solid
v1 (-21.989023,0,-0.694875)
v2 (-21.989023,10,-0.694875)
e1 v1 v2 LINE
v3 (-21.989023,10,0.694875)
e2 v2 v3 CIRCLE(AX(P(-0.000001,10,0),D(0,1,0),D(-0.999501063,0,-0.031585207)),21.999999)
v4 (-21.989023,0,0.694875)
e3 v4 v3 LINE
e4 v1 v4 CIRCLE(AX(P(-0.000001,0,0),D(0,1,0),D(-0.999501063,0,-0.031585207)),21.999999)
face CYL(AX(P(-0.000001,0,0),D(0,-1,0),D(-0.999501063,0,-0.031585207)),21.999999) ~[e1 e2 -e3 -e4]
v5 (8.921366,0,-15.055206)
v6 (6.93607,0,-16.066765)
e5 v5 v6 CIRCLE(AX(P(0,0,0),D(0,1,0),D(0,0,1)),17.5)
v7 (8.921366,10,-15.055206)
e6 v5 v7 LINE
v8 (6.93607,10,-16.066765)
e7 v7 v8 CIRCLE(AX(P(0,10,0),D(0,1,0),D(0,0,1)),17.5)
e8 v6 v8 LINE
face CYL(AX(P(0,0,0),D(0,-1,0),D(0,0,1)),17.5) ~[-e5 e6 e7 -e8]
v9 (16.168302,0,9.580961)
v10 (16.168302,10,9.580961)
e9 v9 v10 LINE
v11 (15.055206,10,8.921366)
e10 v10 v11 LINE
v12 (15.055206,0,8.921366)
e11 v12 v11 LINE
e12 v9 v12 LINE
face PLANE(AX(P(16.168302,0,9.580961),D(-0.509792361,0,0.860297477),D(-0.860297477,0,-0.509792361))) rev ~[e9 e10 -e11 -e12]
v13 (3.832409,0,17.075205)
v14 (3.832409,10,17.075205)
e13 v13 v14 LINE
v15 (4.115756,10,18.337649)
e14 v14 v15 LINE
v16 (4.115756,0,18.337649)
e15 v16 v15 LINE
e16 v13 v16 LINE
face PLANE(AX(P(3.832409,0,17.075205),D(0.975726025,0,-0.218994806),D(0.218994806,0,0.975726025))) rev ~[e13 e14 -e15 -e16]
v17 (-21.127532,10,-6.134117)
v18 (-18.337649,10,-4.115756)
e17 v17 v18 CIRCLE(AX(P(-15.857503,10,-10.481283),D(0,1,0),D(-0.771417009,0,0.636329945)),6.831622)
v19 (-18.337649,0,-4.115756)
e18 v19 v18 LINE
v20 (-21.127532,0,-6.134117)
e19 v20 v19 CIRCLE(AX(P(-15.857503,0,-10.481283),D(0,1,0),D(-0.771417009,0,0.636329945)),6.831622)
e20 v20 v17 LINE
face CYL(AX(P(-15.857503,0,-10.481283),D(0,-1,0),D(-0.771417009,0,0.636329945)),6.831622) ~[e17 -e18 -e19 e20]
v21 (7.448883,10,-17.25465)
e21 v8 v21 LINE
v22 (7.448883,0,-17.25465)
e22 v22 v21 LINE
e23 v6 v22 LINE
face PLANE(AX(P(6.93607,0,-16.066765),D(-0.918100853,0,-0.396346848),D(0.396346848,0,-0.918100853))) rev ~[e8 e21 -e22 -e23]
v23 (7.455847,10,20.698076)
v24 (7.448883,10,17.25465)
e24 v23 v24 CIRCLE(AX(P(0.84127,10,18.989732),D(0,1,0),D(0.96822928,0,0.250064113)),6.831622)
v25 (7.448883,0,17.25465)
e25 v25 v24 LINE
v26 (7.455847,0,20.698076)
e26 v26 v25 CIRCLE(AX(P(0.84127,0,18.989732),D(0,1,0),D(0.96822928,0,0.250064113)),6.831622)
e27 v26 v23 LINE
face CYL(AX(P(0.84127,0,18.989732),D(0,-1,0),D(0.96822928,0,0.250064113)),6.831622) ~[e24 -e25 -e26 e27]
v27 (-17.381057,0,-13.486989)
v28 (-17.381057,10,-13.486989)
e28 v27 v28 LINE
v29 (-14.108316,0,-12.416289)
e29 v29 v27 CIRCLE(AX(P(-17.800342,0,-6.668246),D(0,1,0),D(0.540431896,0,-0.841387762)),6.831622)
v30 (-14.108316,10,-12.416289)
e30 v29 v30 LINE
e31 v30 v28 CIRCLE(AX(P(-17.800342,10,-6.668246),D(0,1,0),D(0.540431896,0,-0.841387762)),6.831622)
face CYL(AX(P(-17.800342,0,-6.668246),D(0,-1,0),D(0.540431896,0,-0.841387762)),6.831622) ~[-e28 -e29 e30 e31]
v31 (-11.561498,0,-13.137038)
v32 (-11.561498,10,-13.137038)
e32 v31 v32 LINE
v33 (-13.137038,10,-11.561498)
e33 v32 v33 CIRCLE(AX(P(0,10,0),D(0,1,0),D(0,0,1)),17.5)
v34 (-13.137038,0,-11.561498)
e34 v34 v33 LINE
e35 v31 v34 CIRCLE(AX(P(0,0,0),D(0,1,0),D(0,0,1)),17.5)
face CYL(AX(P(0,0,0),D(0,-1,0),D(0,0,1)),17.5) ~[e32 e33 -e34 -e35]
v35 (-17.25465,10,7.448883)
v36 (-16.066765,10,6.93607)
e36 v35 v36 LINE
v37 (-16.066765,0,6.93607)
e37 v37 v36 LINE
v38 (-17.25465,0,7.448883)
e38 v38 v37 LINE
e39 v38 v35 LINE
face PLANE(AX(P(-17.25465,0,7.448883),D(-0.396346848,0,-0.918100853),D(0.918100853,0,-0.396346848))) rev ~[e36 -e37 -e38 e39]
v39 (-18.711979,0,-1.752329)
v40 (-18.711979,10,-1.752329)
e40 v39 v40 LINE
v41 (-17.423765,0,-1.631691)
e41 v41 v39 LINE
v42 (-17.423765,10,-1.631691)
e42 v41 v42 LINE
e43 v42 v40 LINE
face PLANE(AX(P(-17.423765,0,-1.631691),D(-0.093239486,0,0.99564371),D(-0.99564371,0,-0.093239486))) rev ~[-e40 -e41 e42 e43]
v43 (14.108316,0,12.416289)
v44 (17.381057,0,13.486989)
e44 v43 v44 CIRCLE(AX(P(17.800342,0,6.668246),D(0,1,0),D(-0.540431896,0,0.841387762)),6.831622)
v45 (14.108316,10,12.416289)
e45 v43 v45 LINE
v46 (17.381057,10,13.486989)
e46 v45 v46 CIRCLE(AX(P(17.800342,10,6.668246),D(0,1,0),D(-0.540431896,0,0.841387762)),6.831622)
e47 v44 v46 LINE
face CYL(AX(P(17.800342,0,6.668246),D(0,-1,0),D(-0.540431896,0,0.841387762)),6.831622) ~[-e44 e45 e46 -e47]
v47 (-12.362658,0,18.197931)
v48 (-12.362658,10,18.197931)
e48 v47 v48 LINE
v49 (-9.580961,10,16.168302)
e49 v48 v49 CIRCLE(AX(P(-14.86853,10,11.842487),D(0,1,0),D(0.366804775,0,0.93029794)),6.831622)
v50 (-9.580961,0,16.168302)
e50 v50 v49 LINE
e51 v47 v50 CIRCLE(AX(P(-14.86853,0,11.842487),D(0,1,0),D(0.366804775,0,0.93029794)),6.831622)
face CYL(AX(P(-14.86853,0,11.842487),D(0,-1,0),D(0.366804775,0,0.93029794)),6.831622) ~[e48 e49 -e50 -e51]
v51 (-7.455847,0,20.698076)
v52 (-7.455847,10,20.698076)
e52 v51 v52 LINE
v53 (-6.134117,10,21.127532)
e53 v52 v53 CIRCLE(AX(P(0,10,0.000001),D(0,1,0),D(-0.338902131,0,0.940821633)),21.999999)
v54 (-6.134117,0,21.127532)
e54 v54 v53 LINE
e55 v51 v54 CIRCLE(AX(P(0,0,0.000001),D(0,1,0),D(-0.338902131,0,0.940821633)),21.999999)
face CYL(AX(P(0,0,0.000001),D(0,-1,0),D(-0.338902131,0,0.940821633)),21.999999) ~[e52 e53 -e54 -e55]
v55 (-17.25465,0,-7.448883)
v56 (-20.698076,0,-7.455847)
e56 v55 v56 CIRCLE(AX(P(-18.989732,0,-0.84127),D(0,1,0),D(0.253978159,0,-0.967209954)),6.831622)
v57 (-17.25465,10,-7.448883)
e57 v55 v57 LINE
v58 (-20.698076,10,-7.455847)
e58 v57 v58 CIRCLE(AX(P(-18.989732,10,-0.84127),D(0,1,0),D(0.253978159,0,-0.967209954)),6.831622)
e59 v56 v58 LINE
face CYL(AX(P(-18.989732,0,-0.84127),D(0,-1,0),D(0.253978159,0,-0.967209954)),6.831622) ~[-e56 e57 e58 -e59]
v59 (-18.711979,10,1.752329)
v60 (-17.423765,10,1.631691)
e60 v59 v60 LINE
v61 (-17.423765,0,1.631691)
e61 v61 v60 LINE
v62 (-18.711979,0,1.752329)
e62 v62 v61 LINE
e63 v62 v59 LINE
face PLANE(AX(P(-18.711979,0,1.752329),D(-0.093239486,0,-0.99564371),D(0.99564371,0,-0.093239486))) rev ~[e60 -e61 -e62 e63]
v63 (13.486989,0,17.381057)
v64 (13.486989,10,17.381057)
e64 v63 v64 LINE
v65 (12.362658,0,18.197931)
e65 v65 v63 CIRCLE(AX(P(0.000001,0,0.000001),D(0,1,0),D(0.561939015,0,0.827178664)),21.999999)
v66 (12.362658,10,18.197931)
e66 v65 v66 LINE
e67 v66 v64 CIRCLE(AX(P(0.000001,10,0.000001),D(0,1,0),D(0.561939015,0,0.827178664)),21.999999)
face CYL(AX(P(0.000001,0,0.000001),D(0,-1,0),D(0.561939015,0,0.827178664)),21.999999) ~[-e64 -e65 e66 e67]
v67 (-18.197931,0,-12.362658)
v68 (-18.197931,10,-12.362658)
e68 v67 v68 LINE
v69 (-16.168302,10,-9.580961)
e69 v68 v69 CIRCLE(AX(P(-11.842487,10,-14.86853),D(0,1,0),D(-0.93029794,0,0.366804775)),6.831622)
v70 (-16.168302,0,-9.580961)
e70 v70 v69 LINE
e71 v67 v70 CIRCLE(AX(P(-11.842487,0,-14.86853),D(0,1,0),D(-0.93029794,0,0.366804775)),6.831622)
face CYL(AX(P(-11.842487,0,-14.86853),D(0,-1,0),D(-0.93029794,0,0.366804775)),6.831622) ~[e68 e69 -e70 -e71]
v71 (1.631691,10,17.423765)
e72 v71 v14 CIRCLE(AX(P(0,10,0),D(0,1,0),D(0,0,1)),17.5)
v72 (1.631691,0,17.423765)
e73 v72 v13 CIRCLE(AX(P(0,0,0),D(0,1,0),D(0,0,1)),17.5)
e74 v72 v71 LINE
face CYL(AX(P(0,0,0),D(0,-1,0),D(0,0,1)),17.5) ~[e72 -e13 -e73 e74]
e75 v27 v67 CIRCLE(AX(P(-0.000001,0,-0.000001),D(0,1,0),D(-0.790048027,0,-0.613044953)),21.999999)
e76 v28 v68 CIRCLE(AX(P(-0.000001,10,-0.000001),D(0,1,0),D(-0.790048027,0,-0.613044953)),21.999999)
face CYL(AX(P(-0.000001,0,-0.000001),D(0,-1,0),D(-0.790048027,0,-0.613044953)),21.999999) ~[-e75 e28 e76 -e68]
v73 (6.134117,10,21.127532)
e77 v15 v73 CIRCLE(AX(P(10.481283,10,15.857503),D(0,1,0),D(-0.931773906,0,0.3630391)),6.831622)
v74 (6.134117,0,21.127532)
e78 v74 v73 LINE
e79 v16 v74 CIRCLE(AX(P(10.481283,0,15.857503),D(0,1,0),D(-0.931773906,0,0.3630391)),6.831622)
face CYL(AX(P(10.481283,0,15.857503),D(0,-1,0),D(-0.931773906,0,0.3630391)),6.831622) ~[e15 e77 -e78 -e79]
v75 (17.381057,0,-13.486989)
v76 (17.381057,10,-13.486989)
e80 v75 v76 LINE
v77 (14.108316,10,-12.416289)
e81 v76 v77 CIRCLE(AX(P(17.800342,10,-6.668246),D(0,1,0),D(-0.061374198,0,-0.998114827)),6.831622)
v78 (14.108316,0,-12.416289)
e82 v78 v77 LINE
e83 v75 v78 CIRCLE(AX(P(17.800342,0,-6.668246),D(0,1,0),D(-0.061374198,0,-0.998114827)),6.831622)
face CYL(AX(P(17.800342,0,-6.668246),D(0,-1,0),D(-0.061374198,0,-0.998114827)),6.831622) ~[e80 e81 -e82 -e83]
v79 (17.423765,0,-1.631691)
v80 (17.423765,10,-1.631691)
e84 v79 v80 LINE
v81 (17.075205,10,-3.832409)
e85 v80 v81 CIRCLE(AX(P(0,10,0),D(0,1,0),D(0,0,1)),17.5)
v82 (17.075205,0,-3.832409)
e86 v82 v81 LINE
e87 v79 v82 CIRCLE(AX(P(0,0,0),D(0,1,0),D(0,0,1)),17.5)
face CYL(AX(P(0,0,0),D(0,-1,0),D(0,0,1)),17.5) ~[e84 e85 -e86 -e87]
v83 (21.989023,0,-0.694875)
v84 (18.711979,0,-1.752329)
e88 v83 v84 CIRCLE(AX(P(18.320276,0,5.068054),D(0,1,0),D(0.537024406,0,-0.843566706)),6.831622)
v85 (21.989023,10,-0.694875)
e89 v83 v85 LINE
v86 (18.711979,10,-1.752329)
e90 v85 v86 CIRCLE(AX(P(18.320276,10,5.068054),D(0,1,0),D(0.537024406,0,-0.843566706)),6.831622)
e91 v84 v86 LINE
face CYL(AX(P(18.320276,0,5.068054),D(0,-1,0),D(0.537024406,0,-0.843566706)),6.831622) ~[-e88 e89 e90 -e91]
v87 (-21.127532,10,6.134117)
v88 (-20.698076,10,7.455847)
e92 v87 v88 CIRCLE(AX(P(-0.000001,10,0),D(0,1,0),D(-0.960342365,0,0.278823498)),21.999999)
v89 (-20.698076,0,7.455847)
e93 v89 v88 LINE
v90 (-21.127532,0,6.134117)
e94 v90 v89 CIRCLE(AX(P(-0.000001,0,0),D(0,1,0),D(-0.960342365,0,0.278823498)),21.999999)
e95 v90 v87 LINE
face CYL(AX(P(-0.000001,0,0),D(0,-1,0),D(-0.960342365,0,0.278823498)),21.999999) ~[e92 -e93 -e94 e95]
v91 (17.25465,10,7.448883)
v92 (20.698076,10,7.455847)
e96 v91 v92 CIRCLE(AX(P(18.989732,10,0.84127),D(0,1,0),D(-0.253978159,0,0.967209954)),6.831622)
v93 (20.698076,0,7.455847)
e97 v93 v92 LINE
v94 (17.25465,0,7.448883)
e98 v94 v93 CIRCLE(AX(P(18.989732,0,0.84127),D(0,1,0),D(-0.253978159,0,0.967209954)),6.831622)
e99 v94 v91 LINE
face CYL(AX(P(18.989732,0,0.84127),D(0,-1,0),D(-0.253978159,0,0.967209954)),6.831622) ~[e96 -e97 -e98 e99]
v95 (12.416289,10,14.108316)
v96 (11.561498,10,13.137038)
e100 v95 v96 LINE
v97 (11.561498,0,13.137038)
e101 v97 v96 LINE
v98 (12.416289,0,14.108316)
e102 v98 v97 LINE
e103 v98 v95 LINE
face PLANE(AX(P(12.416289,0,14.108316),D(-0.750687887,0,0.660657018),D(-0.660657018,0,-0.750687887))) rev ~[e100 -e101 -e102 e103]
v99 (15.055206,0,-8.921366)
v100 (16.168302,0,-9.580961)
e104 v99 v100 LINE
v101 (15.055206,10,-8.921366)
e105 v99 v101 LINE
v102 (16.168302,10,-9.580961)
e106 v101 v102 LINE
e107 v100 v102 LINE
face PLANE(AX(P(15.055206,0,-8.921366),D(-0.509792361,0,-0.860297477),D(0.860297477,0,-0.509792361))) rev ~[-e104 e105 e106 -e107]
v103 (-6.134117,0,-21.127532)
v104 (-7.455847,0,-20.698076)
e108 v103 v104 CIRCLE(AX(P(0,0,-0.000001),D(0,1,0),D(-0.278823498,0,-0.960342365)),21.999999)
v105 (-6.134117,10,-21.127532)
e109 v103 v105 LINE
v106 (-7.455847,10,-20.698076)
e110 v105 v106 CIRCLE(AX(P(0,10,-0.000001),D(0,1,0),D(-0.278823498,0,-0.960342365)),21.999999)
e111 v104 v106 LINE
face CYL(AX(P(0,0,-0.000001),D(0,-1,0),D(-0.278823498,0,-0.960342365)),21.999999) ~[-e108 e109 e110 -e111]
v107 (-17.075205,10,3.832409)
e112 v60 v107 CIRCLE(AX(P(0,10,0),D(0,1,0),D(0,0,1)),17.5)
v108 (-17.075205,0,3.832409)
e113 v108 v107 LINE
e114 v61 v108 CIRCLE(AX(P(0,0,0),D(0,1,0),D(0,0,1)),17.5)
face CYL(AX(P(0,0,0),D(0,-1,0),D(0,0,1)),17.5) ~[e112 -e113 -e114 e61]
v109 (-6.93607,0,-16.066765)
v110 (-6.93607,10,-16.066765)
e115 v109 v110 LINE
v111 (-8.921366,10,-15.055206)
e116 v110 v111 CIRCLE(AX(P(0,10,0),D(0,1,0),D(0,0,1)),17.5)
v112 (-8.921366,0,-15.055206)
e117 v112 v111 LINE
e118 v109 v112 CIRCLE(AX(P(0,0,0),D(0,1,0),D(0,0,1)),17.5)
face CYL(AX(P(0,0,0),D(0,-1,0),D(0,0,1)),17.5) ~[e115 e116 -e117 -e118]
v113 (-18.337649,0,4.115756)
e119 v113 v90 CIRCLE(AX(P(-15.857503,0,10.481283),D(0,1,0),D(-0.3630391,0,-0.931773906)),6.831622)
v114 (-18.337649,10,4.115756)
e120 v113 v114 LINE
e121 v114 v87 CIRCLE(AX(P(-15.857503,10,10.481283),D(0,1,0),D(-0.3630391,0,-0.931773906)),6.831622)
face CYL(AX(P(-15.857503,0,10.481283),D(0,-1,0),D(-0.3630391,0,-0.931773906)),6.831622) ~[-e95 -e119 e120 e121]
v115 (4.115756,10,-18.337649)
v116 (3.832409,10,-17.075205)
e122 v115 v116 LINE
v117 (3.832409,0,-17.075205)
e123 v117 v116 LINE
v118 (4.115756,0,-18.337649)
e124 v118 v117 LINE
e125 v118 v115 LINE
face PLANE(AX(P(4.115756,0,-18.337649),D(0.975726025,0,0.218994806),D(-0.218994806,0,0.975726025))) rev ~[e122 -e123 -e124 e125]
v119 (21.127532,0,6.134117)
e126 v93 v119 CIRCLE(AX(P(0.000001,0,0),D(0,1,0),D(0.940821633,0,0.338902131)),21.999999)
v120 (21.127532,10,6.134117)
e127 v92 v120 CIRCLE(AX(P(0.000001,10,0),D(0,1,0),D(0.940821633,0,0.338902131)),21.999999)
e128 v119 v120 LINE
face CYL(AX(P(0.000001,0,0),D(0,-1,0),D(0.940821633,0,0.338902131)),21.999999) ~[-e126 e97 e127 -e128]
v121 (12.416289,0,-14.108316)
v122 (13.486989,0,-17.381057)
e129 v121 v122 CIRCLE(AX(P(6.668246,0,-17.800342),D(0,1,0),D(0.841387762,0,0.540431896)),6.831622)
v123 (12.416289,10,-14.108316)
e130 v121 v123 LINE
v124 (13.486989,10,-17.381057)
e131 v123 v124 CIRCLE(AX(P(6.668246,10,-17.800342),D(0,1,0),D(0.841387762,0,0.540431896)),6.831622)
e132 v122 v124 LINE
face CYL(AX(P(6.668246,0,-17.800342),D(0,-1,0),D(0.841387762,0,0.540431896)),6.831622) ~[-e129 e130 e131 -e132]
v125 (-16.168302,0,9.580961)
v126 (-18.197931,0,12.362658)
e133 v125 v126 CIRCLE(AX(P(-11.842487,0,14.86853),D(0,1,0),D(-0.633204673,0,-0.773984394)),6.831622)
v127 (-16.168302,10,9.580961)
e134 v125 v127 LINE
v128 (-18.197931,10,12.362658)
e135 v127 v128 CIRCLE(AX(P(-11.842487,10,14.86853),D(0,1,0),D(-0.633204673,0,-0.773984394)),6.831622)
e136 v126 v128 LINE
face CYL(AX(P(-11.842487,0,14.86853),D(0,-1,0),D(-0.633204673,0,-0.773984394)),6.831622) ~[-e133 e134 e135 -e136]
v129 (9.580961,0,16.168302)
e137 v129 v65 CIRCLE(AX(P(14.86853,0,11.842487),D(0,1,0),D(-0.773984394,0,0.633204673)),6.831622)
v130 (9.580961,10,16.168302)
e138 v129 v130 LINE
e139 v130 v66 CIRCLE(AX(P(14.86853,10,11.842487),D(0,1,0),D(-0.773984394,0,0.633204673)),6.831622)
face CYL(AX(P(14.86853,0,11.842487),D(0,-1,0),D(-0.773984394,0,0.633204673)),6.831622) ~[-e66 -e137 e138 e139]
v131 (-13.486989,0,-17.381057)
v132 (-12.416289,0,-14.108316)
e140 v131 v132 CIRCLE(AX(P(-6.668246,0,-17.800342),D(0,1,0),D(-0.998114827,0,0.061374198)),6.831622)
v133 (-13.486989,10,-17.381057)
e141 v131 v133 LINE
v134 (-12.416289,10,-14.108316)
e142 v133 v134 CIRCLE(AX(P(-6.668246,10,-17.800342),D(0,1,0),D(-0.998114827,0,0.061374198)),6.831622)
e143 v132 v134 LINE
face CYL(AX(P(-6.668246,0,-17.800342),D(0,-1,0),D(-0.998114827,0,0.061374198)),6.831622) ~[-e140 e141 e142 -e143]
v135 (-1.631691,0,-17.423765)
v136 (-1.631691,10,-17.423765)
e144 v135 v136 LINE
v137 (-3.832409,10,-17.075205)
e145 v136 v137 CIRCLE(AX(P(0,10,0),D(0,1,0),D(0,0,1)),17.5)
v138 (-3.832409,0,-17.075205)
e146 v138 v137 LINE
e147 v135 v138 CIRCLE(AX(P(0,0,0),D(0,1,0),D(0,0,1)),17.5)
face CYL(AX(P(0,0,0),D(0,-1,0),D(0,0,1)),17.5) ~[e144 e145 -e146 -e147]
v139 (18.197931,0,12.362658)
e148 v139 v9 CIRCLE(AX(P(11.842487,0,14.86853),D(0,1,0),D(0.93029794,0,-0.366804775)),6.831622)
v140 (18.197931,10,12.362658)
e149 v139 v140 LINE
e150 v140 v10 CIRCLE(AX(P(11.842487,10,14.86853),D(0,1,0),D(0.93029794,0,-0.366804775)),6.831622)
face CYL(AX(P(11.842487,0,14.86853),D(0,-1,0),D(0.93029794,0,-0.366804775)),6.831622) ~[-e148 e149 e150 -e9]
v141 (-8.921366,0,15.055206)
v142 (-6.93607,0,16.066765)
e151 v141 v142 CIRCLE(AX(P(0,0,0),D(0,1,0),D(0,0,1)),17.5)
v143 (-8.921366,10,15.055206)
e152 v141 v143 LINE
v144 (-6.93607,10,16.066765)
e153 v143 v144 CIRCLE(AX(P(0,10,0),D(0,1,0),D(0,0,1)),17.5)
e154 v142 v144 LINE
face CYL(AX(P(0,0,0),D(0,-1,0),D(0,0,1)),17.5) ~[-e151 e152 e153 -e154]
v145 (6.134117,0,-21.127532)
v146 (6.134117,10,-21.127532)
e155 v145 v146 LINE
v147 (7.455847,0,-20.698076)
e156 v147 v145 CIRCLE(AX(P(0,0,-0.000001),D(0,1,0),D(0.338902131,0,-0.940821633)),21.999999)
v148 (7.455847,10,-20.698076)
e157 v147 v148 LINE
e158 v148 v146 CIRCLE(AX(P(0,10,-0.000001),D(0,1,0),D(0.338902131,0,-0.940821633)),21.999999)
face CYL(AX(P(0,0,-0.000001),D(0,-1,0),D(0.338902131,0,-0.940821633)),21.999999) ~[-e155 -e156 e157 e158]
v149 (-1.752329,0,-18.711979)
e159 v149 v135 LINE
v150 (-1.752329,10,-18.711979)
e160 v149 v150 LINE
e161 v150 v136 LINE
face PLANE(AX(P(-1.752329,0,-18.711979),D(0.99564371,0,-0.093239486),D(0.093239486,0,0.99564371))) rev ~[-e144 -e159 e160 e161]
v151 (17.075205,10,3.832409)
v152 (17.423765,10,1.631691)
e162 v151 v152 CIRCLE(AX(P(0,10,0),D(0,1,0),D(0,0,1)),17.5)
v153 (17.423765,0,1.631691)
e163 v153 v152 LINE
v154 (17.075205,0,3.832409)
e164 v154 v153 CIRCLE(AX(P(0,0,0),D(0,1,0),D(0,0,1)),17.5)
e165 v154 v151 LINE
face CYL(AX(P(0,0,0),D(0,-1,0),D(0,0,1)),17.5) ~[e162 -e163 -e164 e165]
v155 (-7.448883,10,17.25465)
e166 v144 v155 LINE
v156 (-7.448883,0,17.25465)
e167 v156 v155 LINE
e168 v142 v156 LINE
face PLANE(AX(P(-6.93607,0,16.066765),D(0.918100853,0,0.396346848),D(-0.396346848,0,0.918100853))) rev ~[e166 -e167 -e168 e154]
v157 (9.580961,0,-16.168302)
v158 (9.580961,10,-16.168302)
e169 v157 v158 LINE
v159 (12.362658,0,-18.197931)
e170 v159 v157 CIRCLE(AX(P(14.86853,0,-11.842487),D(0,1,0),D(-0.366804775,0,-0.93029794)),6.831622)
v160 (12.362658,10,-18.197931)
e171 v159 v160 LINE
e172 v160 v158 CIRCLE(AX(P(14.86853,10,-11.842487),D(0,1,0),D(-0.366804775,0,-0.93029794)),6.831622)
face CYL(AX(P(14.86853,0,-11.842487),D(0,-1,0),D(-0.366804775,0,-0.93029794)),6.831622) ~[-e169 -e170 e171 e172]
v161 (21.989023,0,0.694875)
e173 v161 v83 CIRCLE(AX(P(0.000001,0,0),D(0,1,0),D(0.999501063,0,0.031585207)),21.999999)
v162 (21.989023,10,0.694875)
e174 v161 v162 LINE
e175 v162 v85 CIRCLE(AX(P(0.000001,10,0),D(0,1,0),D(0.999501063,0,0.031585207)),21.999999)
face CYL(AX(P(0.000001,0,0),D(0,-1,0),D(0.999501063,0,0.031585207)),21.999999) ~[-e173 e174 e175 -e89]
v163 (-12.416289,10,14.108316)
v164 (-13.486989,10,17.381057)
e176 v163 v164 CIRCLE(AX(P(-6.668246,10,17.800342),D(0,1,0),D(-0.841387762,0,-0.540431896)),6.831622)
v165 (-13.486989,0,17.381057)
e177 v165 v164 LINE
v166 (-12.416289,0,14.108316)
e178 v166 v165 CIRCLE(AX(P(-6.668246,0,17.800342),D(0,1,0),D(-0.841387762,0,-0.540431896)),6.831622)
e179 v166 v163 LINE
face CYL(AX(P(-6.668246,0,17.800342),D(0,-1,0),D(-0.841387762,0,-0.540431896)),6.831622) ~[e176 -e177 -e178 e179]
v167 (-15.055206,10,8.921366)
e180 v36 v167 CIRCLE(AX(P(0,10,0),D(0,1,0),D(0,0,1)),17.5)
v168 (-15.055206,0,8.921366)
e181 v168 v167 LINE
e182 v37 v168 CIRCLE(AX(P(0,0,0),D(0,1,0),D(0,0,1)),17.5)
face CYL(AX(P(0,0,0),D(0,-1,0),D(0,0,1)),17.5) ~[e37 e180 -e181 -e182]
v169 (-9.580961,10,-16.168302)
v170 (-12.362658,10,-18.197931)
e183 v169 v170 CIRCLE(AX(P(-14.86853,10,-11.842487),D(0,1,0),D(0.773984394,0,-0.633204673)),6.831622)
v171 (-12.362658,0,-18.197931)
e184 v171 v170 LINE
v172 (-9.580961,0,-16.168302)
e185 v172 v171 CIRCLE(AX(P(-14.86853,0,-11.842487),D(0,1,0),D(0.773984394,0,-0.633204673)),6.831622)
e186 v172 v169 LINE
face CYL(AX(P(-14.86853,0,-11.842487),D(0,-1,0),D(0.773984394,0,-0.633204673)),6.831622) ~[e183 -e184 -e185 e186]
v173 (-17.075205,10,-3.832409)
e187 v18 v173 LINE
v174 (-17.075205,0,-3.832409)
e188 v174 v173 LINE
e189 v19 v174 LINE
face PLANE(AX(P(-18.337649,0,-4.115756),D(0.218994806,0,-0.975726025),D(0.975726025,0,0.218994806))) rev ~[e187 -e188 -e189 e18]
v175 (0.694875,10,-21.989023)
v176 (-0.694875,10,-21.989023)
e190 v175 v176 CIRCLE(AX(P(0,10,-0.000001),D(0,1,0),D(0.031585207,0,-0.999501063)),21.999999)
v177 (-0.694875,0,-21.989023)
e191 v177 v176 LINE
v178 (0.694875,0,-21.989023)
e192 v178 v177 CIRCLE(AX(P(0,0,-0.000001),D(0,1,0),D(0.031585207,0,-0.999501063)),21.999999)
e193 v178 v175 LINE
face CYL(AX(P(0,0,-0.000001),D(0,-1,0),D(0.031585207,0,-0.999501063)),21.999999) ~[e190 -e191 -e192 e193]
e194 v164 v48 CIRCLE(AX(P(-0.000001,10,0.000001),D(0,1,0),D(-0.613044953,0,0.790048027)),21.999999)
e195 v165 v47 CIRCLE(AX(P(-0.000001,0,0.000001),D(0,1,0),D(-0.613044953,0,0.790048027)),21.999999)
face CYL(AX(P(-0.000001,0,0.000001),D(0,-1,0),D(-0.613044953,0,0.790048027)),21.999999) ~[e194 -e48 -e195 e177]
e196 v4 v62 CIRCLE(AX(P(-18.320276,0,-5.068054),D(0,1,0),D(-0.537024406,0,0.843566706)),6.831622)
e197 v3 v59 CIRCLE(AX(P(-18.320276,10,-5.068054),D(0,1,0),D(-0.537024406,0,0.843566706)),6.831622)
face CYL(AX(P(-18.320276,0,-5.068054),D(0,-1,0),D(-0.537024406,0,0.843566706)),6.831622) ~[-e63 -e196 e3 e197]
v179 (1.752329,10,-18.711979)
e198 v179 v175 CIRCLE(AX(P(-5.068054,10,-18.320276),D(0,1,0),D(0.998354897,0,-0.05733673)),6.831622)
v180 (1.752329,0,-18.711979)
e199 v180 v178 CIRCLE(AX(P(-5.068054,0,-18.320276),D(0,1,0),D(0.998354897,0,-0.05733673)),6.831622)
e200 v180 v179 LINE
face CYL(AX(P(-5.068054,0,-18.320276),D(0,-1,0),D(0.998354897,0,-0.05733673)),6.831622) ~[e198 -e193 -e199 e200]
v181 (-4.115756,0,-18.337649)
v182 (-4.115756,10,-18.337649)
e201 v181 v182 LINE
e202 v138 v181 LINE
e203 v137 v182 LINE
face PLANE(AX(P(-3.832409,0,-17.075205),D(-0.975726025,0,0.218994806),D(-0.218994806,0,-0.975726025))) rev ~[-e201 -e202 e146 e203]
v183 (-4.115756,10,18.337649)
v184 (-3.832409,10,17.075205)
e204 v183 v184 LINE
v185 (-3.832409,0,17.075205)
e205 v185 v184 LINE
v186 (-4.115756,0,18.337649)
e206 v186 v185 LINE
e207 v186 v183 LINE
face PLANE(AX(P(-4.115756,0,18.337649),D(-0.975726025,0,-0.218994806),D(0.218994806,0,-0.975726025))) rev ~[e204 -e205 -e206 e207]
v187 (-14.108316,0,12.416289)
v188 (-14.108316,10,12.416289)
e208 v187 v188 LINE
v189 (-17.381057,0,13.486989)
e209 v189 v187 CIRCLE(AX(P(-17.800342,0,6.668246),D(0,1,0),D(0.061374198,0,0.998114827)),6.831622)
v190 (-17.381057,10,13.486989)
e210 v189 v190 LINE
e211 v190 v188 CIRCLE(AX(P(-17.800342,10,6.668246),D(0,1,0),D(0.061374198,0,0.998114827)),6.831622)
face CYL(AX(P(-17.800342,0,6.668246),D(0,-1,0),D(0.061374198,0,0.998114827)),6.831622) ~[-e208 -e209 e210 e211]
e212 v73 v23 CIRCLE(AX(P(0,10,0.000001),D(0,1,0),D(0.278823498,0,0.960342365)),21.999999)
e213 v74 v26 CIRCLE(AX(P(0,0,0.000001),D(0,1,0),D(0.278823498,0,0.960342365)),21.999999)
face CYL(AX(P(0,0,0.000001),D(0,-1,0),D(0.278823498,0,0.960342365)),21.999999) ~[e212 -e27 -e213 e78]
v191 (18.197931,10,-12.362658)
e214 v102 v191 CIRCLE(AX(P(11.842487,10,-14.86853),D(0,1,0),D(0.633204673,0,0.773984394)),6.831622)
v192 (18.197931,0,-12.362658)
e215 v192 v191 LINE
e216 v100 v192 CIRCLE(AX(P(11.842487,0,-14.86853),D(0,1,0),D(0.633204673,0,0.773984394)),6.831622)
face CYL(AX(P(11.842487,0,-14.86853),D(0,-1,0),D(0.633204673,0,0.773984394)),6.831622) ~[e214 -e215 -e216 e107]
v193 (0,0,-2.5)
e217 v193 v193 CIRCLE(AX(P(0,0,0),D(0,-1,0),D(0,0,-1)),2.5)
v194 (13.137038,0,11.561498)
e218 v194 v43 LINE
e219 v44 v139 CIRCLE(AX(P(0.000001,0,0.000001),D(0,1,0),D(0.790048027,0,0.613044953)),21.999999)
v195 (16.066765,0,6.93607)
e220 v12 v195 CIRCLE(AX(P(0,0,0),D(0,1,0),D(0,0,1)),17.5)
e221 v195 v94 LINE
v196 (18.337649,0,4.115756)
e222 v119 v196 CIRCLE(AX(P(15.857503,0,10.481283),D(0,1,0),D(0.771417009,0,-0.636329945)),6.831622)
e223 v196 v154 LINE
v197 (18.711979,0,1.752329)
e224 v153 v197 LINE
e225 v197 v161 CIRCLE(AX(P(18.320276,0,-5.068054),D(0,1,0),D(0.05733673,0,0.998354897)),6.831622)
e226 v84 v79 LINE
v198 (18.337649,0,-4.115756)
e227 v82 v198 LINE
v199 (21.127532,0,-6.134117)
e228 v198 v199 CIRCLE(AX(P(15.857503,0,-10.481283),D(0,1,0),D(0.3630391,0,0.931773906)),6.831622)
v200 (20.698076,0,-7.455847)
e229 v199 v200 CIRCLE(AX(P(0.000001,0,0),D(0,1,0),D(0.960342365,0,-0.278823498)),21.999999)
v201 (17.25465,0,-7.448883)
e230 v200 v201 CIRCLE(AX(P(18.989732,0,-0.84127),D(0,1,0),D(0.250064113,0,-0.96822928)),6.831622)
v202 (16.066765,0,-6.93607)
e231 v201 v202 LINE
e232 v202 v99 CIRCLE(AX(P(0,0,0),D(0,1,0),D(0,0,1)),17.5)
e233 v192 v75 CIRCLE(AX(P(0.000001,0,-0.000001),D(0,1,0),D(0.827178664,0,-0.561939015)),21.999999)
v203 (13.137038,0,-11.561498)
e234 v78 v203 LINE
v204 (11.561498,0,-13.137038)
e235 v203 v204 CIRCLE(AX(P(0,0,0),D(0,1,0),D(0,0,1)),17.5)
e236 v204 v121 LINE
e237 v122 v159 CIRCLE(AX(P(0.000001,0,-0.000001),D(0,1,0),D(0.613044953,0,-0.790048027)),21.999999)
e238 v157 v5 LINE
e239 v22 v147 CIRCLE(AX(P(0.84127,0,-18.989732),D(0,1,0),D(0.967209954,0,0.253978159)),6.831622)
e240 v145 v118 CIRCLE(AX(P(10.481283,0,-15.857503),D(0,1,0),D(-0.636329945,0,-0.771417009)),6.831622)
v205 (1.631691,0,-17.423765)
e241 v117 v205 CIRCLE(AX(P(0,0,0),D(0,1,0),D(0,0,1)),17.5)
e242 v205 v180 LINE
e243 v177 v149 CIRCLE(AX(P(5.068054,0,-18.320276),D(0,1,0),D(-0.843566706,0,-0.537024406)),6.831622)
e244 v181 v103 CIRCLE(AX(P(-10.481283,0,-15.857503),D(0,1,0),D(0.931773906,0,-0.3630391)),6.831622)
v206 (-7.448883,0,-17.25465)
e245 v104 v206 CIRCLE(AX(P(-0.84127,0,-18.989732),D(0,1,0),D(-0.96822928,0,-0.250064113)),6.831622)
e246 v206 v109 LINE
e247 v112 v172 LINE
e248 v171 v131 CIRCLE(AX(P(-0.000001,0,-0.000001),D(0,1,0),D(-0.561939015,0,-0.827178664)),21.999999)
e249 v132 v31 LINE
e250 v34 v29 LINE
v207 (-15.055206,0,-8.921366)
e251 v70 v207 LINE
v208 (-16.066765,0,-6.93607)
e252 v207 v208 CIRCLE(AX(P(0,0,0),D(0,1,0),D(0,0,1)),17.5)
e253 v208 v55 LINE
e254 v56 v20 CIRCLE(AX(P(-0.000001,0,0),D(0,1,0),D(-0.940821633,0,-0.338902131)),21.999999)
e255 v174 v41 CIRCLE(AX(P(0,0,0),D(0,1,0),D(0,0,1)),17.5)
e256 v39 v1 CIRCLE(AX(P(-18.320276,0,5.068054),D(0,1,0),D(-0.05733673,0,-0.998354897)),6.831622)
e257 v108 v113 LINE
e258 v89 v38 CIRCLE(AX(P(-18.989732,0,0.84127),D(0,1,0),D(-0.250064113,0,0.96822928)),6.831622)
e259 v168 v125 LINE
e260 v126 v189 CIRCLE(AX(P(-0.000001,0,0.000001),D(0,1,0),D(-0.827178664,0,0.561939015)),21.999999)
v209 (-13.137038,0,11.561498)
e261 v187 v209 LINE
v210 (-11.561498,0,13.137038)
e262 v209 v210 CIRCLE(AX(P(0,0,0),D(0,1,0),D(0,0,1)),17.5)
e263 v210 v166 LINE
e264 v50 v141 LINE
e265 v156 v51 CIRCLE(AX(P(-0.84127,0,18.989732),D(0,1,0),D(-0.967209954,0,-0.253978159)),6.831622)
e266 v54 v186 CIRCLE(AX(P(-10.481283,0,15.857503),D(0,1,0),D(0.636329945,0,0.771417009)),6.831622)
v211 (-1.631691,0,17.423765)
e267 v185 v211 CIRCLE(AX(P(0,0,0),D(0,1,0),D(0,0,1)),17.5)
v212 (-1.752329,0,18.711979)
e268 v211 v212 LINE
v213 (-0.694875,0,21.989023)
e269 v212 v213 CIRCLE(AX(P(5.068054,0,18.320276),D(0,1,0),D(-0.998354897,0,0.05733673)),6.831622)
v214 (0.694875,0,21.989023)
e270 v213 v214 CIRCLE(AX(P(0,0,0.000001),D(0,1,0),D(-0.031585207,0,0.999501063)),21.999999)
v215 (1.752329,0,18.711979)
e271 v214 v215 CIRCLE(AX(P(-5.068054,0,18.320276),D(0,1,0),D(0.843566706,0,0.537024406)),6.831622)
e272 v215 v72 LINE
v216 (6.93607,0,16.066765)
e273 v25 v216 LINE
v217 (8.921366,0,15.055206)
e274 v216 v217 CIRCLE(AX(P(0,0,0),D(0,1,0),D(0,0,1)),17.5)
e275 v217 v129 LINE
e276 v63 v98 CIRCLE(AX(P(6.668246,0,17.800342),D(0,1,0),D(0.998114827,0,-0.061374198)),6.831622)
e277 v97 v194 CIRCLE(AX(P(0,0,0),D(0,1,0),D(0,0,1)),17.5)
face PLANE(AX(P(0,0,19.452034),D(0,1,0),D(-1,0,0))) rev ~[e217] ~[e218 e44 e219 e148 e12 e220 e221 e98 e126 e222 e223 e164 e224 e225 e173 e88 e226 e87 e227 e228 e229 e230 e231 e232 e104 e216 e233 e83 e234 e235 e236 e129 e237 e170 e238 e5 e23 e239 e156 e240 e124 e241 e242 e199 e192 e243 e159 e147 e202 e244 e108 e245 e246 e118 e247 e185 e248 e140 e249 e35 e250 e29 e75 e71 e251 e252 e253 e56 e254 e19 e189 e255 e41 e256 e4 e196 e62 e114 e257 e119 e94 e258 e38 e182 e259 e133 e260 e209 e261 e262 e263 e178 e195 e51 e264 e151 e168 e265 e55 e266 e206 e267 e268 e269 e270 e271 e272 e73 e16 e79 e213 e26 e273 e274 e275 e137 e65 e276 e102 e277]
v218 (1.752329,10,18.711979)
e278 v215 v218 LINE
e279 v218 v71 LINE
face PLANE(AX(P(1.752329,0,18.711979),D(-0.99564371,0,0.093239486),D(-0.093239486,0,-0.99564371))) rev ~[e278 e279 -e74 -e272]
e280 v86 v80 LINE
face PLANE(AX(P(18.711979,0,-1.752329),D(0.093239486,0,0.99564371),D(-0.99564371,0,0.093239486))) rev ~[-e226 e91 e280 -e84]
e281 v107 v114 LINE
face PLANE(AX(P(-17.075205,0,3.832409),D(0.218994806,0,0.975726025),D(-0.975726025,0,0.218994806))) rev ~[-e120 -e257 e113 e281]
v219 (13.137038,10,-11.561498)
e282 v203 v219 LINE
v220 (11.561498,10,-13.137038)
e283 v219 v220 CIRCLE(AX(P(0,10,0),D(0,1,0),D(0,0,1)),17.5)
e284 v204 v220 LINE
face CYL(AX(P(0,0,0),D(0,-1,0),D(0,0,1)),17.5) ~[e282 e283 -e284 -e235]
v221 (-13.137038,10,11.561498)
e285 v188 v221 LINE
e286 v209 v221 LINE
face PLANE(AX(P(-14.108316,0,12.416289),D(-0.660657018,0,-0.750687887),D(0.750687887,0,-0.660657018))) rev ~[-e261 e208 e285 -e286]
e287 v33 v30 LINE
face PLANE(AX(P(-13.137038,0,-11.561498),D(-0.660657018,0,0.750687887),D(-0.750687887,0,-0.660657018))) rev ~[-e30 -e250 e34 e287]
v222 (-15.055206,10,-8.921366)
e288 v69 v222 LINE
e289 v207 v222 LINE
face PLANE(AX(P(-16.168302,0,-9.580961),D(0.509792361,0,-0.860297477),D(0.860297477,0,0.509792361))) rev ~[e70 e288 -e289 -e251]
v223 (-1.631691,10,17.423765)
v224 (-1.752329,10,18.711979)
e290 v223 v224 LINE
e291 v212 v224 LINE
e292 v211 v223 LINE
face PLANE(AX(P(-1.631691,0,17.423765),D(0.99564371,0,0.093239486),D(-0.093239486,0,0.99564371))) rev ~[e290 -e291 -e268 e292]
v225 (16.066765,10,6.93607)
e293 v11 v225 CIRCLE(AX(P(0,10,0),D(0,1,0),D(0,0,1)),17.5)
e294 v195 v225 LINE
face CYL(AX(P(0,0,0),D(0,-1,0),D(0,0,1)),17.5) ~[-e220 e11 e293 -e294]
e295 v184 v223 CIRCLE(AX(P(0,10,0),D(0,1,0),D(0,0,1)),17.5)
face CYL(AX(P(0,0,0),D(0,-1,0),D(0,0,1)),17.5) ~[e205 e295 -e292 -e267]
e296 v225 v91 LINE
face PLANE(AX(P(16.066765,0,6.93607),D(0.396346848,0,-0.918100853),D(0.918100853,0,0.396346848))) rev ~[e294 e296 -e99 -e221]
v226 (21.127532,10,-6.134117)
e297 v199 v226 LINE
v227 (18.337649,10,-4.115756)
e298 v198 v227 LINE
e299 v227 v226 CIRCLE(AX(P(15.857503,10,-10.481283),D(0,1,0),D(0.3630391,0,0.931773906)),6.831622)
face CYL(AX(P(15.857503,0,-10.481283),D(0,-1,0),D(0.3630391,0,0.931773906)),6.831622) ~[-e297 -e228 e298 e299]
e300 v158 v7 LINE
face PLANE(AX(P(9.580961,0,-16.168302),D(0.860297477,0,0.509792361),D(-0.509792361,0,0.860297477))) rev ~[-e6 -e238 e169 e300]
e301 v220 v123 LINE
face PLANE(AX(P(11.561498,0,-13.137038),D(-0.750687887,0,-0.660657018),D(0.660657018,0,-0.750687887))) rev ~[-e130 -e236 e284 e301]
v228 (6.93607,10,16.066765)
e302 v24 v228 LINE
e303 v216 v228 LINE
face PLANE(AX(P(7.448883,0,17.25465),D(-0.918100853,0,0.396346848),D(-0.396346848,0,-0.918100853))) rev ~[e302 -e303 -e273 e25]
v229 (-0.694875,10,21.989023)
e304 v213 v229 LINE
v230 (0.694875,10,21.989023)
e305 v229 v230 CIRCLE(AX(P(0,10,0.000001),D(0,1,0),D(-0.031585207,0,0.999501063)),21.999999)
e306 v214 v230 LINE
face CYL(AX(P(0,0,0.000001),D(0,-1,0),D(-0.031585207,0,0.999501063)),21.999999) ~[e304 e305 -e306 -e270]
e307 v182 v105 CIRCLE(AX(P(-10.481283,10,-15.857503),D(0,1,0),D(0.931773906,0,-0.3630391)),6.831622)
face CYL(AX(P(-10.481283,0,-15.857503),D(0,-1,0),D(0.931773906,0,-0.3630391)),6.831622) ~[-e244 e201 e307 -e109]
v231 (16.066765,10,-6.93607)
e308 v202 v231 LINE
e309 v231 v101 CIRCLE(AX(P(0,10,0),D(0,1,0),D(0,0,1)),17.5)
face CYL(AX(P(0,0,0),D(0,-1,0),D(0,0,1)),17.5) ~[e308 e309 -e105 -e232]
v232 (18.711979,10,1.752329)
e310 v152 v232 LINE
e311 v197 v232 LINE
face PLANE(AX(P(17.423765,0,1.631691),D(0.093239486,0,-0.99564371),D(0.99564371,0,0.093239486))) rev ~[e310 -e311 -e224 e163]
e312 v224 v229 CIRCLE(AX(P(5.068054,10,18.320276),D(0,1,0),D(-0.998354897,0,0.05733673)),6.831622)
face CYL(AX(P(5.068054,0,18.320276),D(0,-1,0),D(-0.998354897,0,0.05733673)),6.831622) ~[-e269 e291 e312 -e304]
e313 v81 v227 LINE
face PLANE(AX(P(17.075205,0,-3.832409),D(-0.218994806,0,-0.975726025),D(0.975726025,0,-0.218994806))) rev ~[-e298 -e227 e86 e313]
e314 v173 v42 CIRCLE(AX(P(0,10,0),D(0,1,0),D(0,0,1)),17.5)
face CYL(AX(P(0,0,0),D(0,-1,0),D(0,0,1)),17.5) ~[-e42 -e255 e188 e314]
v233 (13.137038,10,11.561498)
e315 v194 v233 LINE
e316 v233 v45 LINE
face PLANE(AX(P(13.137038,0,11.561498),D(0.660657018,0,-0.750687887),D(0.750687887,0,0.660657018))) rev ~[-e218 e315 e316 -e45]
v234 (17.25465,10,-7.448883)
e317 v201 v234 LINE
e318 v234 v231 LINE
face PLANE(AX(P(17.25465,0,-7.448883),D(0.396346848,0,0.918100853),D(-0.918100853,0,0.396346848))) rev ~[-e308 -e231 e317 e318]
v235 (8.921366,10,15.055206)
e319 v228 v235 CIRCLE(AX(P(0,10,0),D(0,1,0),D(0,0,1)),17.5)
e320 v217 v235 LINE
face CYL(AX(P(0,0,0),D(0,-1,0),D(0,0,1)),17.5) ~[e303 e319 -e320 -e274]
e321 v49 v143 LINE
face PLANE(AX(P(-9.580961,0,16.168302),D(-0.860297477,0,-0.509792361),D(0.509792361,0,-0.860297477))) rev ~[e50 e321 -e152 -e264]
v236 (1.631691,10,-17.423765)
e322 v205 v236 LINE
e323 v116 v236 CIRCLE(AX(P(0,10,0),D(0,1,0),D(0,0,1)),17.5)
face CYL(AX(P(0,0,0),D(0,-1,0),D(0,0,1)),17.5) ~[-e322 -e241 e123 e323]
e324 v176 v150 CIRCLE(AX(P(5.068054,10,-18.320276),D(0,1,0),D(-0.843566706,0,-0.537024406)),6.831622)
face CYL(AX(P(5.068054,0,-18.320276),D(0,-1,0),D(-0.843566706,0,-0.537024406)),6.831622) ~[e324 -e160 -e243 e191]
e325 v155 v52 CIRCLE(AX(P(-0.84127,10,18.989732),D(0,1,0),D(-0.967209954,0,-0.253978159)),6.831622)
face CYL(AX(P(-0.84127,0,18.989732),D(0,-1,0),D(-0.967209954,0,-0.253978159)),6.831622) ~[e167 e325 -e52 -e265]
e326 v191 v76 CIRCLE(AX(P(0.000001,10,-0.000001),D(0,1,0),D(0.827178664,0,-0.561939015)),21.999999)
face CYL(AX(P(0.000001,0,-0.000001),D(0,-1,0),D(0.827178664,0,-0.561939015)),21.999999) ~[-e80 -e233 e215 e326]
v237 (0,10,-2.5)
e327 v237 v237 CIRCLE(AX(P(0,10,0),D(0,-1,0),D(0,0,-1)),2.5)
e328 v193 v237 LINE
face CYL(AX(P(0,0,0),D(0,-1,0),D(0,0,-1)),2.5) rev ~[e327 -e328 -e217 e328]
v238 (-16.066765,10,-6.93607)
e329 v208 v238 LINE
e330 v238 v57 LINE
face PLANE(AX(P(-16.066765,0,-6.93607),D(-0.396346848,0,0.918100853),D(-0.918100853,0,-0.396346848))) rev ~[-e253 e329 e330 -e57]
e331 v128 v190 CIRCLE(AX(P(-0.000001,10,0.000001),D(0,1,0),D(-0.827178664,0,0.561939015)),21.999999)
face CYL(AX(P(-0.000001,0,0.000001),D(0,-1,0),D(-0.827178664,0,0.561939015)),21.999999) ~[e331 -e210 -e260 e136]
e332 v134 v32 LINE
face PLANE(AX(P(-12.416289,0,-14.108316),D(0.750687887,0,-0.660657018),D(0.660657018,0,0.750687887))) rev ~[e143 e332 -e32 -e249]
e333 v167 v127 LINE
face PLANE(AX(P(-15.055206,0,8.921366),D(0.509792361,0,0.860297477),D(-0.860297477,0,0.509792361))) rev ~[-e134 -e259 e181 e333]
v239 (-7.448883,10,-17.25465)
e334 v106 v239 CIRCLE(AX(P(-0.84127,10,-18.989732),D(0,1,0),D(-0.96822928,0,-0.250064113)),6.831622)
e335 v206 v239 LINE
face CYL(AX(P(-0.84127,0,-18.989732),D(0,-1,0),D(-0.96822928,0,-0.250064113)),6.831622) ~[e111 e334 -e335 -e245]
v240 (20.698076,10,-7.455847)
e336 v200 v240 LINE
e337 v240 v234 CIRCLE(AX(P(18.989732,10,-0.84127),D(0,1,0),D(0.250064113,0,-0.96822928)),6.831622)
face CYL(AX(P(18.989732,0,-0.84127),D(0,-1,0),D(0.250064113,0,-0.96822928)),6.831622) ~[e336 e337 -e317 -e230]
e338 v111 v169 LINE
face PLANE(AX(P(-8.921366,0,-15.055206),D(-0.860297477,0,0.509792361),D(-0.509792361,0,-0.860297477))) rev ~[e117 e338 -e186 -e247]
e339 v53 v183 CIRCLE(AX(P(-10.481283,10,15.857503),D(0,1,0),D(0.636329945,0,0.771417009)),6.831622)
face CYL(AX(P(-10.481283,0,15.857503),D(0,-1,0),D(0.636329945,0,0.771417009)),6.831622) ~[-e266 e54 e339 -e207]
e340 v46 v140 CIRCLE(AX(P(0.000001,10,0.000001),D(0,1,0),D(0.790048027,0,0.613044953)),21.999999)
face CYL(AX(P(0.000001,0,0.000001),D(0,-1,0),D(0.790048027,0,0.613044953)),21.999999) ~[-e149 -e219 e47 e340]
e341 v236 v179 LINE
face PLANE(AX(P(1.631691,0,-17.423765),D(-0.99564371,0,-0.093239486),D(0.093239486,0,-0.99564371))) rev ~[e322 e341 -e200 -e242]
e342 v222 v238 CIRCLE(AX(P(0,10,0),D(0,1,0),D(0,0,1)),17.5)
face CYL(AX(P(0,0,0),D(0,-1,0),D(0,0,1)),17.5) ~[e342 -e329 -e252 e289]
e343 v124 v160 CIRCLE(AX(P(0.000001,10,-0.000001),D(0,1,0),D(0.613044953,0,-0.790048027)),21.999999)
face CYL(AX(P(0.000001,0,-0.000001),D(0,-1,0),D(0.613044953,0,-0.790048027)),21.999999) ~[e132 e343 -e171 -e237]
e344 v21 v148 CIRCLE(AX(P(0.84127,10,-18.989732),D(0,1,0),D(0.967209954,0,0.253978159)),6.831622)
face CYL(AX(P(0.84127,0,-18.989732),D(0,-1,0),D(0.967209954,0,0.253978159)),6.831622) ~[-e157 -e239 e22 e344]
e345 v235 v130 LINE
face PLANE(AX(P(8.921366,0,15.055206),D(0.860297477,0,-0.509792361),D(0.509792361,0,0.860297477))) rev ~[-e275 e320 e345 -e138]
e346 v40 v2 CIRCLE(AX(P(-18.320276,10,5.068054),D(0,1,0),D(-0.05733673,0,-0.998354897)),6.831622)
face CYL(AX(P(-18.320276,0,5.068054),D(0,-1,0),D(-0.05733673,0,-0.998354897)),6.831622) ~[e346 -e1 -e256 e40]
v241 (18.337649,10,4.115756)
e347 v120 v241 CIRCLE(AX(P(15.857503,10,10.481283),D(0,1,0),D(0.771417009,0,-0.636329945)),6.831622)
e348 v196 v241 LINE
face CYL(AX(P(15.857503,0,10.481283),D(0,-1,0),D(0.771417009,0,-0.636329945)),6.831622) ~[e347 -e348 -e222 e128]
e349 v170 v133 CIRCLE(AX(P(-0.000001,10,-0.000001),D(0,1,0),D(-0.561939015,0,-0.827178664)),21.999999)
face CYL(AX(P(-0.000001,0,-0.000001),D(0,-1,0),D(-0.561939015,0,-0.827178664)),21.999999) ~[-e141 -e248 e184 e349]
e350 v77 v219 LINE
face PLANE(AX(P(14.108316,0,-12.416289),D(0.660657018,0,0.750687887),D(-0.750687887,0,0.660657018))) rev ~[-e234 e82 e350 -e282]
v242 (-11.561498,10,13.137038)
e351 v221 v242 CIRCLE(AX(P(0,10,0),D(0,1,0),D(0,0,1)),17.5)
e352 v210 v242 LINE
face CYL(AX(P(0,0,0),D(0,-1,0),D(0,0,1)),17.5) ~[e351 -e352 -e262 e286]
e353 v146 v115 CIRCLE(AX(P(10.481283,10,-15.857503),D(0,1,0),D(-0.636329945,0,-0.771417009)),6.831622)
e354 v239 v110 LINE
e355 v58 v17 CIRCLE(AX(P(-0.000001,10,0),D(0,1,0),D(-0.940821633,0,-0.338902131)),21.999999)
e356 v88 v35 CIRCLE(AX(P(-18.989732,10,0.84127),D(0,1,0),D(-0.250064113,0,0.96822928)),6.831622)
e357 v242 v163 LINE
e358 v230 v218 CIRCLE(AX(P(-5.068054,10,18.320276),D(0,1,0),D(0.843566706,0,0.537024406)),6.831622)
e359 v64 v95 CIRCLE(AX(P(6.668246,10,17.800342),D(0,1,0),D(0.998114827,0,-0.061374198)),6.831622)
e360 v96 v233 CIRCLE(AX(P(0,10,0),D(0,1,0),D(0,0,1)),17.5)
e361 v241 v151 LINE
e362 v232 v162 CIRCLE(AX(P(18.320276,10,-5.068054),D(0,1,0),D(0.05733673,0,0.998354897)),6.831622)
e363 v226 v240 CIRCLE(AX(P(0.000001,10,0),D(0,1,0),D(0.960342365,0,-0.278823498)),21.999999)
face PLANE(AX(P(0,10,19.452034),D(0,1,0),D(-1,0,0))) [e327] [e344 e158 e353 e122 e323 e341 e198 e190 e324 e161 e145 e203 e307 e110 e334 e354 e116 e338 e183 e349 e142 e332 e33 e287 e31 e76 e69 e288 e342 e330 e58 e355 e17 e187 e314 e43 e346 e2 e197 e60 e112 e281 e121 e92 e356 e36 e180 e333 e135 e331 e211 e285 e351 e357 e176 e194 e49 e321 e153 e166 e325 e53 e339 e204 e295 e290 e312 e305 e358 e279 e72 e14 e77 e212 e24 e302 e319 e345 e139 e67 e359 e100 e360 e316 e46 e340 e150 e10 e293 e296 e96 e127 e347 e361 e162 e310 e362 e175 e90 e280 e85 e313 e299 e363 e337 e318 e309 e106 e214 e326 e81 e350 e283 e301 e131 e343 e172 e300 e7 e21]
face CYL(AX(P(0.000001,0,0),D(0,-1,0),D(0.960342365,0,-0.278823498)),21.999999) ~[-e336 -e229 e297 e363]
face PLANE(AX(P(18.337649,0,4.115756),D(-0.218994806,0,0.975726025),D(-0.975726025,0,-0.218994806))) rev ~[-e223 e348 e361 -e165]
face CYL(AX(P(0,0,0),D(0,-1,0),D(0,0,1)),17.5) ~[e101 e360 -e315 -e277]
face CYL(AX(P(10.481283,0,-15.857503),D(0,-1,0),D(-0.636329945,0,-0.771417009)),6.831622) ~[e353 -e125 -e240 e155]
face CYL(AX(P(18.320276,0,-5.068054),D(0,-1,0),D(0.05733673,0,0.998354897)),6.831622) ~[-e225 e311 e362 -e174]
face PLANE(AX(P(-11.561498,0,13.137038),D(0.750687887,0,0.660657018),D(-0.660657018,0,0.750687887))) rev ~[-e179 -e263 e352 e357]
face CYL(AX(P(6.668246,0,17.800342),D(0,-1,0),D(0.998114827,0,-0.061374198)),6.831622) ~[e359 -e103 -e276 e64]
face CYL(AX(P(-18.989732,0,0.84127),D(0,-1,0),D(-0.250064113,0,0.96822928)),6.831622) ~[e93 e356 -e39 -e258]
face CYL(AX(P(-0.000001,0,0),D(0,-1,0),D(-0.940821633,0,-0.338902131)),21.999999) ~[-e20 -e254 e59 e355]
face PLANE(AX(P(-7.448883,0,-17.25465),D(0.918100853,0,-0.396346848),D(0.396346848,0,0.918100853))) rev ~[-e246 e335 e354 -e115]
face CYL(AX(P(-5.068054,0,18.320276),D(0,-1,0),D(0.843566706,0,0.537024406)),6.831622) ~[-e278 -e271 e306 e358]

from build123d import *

# Parameters (mm, degrees)
SKETCH_1_R               = 17.5
EXTRUDE_1_DEPTH          = 10
EXTRUDE_2_DEPTH          = 10
PATTERN_CIRCULAR_1_COUNT = 20
SKETCH_3_R               = 2.5
CUT_EXTRUDE_1_DEPTH      = 33.680269277


with BuildPart() as part:
    # Эскиз1 → Бобышка-Вытянуть1 (new body)
    with BuildSketch(Plane(origin=(0, 0, 0), x_dir=(1, 0, 0), z_dir=(0, 1, 0))):
        with Locations(Location((0, 0, 0), (0, 0, 270))):
            Circle(SKETCH_1_R)
    extrude(amount=EXTRUDE_1_DEPTH)

    # Эскиз2 → Бобышка-Вытянуть2 (add)
    with BuildSketch(Plane.XZ):
        with BuildLine():
            Line((-1.631691003, 17.423764934), (-1.752328912, 18.711978549))
            ThreePointArc((-1.752328912, 18.711978549), (-1.433460227, 20.418219236), (-0.694874519, 21.989023384))
            ThreePointArc((-0.694874519, 21.989023384), (0, 22), (0.694874519, 21.989023384))
            ThreePointArc((0.694874519, 21.989023384), (1.433460227, 20.418219236), (1.752328912, 18.711978549))
            Line((1.752328912, 18.711978549), (1.631691003, 17.423764934))
            ThreePointArc((1.631691003, 17.423764934), (0, 17.5), (-1.631691003, 17.423764934))
        make_face()
    extrude_2 = extrude(amount=-EXTRUDE_2_DEPTH)

    # Круговой массив1: Бобышка-Вытянуть2 ×20 about axis
    pattern_circular_1_axis = Axis((0, 0, 0), (0, 1, 0))
    for i in range(1, PATTERN_CIRCULAR_1_COUNT):
        add(extrude_2.rotate(pattern_circular_1_axis, i * 360 / PATTERN_CIRCULAR_1_COUNT))

    # Эскиз3 → Вырез-Вытянуть1 (cut, through all)
    with BuildSketch(Plane.XZ):
        with Locations(Location((0, 0, 0), (0, 0, 270))):
            Circle(SKETCH_3_R)
    extrude(amount=-CUT_EXTRUDE_1_DEPTH, mode=Mode.SUBTRACT)


solid = part.part
